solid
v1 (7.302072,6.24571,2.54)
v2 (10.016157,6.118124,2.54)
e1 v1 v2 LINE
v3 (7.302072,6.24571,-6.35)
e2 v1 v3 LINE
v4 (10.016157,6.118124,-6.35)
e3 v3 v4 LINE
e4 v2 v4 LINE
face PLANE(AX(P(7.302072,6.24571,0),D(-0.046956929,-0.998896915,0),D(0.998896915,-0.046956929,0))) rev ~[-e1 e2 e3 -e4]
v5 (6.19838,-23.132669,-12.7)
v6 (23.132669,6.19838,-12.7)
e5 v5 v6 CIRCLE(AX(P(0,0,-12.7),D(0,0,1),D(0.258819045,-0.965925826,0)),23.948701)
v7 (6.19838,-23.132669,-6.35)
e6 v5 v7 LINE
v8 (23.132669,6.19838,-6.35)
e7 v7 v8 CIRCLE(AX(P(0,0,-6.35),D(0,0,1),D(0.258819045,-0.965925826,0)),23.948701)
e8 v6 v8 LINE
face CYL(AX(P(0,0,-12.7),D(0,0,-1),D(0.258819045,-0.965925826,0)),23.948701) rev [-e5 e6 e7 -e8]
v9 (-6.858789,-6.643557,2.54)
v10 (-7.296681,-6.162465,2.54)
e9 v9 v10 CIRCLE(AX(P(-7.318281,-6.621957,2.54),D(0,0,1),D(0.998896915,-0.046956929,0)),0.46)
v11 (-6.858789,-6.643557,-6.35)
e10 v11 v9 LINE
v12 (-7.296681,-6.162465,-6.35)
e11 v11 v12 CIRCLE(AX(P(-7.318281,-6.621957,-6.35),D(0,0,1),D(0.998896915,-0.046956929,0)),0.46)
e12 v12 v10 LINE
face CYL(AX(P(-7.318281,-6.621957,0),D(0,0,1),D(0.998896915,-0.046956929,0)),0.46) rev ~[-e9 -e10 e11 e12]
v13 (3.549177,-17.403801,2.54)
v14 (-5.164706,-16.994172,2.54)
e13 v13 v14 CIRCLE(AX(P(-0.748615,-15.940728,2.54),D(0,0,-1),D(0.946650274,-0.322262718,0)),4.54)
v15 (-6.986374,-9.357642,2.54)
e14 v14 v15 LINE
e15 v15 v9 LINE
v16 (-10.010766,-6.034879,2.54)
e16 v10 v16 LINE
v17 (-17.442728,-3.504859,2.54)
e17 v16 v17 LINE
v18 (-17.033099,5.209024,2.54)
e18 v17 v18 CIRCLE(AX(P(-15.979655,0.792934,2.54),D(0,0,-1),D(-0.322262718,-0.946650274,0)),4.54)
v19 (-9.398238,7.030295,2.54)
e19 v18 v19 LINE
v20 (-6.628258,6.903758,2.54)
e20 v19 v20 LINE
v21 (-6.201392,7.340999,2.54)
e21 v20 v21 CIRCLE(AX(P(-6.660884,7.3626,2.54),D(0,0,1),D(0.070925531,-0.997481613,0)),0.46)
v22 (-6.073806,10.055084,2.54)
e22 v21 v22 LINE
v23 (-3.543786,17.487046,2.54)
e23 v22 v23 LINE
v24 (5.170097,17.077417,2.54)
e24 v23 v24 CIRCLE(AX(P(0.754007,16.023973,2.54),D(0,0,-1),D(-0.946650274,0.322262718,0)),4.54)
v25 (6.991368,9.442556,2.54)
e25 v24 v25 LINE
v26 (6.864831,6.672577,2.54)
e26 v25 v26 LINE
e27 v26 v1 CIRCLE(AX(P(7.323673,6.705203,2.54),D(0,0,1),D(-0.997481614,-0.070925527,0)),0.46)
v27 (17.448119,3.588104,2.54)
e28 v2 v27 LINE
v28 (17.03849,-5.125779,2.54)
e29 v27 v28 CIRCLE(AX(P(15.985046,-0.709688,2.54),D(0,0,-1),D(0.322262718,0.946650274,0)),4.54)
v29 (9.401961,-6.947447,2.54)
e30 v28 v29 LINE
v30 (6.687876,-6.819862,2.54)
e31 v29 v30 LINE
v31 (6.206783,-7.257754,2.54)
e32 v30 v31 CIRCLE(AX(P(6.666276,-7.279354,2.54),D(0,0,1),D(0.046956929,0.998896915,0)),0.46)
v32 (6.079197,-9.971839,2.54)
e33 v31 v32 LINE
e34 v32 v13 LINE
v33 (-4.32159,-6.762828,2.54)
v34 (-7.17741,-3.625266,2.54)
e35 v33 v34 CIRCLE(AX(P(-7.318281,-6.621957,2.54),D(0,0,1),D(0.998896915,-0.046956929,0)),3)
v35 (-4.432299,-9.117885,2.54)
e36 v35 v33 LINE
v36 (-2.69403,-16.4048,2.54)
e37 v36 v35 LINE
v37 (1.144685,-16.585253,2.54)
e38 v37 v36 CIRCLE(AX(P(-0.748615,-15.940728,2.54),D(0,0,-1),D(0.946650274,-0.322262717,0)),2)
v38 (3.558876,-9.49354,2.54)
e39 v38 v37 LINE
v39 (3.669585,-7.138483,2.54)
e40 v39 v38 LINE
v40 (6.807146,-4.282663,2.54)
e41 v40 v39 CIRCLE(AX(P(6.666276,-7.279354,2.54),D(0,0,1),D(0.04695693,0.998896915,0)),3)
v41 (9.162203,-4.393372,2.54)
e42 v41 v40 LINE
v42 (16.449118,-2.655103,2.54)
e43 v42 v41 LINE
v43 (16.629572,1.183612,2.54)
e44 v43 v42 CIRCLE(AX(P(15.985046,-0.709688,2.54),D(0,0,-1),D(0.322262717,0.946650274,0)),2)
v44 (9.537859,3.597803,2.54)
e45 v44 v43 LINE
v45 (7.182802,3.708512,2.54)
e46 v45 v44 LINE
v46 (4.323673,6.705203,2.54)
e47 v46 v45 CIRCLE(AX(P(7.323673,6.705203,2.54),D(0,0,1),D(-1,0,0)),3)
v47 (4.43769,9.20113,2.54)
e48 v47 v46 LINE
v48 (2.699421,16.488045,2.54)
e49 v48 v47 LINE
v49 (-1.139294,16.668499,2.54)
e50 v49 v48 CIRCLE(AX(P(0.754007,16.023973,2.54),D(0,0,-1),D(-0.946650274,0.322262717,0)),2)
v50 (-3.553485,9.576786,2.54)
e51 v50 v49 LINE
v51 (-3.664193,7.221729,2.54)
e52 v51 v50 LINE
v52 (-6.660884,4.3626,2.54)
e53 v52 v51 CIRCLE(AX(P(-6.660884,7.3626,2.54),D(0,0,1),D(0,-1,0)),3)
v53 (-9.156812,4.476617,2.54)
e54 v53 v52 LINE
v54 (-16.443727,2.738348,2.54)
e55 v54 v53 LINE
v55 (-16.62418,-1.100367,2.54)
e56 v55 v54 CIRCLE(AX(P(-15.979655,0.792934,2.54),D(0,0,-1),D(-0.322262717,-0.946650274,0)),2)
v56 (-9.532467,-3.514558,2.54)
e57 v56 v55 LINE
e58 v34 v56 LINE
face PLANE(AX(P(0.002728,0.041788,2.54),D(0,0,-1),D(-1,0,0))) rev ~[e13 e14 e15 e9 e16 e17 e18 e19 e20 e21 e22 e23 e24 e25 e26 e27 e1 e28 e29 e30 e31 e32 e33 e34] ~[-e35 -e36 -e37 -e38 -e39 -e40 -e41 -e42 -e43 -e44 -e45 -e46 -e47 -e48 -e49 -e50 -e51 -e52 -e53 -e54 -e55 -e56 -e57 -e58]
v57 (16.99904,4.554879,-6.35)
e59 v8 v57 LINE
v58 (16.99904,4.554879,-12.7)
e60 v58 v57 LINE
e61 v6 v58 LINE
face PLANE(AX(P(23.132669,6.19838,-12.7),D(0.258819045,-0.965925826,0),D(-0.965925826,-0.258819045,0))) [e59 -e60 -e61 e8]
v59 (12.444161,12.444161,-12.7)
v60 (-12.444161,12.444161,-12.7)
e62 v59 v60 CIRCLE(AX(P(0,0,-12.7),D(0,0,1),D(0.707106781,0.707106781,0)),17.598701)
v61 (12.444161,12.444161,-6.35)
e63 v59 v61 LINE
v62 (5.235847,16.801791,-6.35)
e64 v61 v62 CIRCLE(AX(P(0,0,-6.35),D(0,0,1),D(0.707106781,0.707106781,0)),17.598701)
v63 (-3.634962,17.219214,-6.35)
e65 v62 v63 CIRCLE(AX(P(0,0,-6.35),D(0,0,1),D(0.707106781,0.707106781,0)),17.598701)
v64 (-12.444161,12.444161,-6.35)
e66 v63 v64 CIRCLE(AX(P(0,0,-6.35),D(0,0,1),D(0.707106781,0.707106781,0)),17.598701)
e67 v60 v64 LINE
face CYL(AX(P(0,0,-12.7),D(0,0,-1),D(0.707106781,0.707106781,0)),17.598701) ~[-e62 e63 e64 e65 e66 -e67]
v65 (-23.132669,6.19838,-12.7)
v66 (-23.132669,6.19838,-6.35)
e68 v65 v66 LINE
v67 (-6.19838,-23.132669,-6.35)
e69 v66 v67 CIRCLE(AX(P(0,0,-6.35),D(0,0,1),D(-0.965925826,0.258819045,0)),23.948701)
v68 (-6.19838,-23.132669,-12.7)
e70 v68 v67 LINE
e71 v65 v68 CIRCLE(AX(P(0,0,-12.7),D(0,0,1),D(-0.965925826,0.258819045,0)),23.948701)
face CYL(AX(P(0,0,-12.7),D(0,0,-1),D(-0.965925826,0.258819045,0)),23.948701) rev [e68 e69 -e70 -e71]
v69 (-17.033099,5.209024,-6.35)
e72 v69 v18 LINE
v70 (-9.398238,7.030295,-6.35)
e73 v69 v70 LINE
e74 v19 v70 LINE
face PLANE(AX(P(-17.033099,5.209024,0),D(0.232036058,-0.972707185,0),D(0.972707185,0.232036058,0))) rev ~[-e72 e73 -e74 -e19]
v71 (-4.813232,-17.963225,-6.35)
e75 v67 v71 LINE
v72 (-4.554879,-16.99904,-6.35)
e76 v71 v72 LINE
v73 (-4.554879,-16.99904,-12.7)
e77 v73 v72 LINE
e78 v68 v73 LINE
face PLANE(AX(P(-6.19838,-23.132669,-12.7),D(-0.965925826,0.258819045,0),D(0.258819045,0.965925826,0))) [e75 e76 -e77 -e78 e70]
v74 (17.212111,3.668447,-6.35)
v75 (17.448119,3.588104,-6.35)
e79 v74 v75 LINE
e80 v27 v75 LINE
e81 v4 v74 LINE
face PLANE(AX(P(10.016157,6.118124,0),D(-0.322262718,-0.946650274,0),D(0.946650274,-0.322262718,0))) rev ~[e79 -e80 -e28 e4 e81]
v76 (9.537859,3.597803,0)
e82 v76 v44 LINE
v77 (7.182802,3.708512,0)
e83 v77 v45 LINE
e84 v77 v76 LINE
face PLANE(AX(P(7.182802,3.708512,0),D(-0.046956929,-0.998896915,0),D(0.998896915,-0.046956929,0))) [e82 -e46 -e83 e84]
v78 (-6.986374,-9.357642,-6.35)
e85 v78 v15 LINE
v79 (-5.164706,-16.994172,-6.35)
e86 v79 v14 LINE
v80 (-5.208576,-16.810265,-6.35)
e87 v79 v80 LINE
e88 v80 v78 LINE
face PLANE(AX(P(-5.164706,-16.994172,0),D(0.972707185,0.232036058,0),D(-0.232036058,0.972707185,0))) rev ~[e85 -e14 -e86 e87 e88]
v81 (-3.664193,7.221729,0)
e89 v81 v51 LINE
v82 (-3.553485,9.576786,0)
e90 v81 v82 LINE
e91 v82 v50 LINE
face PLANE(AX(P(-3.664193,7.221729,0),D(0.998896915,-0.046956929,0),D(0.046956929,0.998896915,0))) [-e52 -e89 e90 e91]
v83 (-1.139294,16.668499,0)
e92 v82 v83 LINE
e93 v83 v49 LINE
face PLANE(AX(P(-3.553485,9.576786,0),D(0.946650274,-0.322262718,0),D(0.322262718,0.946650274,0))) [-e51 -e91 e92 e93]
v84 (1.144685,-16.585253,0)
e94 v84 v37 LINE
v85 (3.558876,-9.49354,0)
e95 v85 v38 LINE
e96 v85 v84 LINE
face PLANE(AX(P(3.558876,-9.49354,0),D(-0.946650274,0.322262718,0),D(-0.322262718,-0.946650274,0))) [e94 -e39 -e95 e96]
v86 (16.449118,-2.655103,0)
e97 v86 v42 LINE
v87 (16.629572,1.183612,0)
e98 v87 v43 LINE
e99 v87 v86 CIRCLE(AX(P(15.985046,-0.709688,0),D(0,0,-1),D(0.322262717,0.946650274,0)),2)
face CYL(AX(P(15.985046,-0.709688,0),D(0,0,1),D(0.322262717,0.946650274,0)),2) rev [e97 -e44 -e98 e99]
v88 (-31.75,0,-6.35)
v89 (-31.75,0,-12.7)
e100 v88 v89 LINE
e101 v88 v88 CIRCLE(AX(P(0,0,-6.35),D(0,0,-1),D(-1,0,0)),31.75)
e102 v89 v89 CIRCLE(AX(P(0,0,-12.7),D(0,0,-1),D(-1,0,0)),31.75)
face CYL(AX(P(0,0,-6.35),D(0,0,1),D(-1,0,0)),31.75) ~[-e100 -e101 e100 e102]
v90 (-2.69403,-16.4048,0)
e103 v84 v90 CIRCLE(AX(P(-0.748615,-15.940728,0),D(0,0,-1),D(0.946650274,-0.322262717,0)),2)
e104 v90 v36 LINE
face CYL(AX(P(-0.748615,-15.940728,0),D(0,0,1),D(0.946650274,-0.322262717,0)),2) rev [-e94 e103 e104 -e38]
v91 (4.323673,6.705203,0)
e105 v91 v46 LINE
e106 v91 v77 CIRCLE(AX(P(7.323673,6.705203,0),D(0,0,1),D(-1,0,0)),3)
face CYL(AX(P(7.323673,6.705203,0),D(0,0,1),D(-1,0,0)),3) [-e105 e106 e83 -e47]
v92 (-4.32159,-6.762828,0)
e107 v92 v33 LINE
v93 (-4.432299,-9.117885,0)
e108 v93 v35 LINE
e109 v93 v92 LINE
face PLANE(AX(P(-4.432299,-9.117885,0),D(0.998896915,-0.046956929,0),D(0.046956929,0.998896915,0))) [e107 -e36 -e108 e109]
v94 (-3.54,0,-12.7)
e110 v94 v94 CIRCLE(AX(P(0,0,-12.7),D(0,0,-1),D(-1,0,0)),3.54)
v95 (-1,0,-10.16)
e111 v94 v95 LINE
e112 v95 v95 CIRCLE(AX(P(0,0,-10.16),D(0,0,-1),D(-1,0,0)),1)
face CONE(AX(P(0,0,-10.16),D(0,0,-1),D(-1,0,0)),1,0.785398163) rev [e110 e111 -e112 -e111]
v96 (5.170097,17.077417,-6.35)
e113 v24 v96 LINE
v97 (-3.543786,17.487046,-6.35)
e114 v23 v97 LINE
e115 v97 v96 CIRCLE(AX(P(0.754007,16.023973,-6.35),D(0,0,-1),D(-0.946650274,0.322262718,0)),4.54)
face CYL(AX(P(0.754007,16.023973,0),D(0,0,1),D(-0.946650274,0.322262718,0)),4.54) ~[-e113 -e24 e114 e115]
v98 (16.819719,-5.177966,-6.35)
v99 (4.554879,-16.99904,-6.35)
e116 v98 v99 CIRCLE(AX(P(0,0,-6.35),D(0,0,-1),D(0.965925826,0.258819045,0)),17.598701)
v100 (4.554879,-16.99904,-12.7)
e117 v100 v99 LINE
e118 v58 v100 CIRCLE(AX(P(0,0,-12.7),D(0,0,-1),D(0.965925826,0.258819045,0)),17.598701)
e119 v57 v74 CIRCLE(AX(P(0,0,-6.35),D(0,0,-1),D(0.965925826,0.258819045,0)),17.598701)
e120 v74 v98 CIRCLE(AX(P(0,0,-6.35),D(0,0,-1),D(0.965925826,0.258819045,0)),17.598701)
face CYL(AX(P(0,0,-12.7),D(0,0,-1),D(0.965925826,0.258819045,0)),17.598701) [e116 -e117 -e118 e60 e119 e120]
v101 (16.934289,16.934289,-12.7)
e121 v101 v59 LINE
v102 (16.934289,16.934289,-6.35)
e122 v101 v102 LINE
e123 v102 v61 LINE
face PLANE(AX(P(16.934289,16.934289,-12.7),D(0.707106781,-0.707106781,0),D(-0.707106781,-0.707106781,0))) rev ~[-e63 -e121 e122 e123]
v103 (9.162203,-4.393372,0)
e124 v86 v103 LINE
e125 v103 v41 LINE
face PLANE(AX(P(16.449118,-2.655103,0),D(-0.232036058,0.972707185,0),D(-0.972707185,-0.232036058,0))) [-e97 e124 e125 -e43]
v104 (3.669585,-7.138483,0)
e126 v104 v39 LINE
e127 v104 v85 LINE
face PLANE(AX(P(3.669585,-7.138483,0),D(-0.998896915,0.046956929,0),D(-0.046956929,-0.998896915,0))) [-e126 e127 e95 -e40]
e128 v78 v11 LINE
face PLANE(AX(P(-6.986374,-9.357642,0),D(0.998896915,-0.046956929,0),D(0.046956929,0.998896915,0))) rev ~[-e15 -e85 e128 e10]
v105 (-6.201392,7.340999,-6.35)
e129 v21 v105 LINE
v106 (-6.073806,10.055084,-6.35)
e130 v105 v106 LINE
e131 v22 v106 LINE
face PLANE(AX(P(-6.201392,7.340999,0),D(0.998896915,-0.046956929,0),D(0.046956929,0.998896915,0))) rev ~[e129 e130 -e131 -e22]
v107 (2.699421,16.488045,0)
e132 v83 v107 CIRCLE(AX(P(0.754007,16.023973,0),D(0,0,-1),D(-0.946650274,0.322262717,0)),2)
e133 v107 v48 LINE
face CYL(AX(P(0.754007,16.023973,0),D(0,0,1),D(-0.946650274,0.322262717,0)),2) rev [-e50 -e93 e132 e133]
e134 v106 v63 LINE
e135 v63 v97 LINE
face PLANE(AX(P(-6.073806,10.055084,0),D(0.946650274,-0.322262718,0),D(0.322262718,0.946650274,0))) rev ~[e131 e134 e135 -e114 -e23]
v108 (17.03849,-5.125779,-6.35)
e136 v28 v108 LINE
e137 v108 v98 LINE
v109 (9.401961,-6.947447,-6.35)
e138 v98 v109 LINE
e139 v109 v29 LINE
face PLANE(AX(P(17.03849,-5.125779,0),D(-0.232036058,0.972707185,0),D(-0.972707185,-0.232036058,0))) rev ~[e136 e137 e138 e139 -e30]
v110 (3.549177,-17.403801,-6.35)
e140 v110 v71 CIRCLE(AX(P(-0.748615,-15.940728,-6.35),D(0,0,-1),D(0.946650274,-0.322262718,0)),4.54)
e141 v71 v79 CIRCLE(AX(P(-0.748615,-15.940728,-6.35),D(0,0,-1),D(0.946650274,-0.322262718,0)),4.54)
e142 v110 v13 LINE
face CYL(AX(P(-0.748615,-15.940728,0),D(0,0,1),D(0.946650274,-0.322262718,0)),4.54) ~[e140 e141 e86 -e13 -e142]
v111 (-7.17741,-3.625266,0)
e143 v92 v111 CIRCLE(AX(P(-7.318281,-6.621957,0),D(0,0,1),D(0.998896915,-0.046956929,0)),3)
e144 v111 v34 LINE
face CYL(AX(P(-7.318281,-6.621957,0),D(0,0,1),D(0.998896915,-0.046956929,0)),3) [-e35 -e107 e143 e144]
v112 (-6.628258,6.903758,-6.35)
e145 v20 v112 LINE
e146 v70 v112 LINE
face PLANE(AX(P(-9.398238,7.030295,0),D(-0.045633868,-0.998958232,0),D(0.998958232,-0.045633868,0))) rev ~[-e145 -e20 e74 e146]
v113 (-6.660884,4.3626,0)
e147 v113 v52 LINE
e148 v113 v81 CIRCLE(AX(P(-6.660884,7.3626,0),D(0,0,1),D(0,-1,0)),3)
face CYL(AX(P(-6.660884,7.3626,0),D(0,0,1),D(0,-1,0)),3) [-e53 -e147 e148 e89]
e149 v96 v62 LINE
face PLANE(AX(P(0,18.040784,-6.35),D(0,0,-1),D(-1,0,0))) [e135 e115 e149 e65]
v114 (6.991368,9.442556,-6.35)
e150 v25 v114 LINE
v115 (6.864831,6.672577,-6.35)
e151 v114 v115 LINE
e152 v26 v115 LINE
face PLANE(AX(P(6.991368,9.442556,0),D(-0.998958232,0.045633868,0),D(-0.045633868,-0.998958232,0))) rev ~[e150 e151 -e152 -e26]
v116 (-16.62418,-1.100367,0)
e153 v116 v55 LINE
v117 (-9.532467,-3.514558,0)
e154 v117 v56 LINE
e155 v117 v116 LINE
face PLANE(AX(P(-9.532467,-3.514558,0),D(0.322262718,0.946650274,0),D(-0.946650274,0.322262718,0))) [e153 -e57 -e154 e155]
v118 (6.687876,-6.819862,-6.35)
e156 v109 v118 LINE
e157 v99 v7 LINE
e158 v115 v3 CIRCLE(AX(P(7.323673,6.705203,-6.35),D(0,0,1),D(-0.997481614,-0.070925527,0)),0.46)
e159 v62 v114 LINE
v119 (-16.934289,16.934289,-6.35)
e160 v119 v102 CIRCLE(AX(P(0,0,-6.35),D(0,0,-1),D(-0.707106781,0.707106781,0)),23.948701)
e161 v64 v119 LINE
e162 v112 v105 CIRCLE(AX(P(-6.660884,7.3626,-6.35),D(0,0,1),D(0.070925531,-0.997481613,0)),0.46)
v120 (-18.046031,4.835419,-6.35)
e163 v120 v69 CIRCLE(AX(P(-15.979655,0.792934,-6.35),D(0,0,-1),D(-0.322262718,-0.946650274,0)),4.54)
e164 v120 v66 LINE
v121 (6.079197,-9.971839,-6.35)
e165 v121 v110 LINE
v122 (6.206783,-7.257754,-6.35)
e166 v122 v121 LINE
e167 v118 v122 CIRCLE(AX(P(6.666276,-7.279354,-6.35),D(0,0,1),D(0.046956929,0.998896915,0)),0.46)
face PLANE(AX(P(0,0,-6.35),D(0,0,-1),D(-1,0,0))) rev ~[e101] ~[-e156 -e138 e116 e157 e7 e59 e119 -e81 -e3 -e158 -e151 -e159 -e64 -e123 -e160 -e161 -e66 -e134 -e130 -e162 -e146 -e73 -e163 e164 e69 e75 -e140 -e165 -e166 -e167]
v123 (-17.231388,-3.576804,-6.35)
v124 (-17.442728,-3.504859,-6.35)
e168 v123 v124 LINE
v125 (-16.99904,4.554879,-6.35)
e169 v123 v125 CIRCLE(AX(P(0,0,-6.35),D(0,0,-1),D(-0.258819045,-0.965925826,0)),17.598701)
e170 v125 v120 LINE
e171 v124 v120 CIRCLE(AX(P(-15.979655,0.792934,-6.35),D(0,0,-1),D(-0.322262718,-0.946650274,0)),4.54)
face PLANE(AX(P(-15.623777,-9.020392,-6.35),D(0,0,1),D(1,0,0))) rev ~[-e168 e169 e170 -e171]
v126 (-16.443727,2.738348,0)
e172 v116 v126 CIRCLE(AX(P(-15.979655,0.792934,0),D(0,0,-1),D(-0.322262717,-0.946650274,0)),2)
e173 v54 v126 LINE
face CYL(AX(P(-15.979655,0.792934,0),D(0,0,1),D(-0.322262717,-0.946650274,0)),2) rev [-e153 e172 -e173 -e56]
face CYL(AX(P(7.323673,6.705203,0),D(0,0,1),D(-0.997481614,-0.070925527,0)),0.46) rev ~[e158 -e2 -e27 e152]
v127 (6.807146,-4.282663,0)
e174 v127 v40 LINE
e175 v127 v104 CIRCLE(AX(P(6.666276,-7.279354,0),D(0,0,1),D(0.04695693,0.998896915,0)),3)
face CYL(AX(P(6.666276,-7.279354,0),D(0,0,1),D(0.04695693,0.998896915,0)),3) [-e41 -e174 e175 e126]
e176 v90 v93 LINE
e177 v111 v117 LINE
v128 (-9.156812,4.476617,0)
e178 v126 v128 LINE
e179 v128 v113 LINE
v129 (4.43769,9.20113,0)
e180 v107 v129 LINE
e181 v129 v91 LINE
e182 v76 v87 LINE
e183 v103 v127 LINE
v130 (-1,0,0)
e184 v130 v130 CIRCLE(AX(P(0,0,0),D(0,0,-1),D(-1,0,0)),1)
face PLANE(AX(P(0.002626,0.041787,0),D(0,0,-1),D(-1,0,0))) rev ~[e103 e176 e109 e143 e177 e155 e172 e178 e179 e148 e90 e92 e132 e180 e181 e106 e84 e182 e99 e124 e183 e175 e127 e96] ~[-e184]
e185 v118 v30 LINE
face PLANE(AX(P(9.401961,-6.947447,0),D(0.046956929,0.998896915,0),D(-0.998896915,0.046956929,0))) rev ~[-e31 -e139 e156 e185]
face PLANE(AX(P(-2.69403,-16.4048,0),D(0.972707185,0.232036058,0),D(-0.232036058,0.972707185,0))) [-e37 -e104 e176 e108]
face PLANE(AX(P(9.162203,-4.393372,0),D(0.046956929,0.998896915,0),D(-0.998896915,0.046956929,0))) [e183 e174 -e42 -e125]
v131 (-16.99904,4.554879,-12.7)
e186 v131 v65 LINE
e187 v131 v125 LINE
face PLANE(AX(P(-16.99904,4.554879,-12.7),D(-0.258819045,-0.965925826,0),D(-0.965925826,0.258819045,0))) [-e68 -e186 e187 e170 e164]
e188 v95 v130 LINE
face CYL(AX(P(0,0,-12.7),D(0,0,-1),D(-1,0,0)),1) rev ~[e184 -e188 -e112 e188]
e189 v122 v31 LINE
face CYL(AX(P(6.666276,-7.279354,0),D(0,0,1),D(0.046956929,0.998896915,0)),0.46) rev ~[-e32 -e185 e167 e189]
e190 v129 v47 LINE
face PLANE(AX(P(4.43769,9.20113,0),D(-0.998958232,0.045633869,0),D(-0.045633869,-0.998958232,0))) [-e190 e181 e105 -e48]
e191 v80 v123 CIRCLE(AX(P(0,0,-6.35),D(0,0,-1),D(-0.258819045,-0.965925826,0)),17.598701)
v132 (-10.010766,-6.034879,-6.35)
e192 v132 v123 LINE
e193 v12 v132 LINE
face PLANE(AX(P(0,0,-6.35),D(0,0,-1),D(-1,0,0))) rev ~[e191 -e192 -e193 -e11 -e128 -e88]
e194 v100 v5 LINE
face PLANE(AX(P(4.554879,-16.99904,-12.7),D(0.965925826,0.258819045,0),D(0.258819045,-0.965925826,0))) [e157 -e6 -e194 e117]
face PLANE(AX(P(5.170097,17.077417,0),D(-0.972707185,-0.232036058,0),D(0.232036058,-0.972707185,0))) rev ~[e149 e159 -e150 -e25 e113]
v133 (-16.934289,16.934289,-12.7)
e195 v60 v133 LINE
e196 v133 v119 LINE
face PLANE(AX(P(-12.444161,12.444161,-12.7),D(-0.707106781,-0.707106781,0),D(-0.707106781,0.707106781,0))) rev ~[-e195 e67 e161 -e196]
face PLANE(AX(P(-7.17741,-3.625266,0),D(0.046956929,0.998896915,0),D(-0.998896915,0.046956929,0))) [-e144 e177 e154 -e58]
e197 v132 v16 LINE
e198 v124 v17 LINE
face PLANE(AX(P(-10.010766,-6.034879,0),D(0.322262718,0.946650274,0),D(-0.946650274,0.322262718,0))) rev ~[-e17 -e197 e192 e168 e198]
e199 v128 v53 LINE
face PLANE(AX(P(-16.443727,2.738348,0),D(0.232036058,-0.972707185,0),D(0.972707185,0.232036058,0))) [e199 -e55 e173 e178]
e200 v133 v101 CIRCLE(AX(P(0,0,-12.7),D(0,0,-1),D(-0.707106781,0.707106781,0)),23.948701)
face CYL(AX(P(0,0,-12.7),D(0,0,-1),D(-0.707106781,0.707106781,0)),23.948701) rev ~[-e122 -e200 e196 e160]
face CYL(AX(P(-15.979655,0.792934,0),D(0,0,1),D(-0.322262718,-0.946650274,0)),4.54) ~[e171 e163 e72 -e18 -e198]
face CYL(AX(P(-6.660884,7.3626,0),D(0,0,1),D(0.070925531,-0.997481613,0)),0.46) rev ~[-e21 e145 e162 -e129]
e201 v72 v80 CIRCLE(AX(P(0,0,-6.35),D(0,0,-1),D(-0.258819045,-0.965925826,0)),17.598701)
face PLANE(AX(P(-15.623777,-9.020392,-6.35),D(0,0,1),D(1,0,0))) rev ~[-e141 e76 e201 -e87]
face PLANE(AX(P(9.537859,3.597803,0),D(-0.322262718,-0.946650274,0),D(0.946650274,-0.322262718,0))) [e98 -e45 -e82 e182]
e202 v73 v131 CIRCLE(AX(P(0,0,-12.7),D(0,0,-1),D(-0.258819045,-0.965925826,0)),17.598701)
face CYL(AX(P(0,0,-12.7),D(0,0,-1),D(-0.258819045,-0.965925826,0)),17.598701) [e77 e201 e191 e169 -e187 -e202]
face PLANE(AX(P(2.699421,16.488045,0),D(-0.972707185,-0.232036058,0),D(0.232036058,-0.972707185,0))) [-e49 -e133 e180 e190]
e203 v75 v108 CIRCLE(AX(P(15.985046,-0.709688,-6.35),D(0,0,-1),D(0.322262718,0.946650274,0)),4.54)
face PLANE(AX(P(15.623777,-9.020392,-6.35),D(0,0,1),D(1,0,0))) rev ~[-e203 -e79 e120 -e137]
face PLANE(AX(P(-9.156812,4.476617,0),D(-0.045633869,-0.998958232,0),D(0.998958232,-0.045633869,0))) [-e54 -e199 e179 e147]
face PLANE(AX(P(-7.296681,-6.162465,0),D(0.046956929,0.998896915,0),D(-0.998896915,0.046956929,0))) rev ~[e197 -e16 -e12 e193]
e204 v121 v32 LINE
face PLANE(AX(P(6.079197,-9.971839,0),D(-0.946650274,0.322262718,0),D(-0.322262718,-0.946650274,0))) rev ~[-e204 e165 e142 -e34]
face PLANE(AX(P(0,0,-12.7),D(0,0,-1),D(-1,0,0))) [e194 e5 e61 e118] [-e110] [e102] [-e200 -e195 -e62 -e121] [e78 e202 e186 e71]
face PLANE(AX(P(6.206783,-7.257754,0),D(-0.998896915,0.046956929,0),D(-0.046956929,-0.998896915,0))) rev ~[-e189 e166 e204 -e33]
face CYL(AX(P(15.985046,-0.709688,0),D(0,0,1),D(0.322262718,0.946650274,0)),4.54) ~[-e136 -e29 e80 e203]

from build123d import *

# Parameters (mm, degrees)
EXTRUDE_THIN1_DEPTH = 2.54
EXTRUDE_THIN2_DEPTH = 6.35
BOSS_EXTRUDE1_DEPTH = 6.35
SKETCH2_R           = 31.75
BOSS_EXTRUDE2_DEPTH = 6.35
CUT_EXTRUDE1_DEPTH  = 6.35
SKETCH4_R           = 1
CUT_EXTRUDE2_DEPTH  = 16.24
CHAMFER2_SIZE       = 2.54


with BuildPart() as part:
    # Sketch1 → Extrude-Thin1 (new body)
    with BuildSketch(Plane.XY):
        with BuildLine():
            Line((-17.033098657, 5.209024178), (-9.398237952, 7.030294761))
            Line((-9.398237952, 7.030294761), (-6.628258472, 6.90375806))
            ThreePointArc((-6.628258472, 6.90375806), (-6.331733624, 7.041258836), (-6.201391634, 7.340999415))
            Line((-6.201391634, 7.340999415), (-6.07380581, 10.055084177))
            Line((-6.07380581, 10.055084177), (-3.543785692, 17.487046073))
            ThreePointArc((-3.543785692, 17.487046073), (0.967191009, 20.558965329), (5.170097171, 17.077417038))
            Line((5.170097171, 17.077417038), (6.991367754, 9.442556334))
            Line((6.991367754, 9.442556334), (6.864831053, 6.672576854))
            ThreePointArc((6.864831053, 6.672576854), (7.002331829, 6.376052005), (7.302072408, 6.245710016))
            Line((7.302072408, 6.245710016), (10.01615717, 6.118124192))
            Line((10.01615717, 6.118124192), (17.448119066, 3.588104073))
            ThreePointArc((17.448119066, 3.588104073), (20.520038322, -0.922872627), (17.038490031, -5.125778789))
            Line((17.038490031, -5.125778789), (9.401960539, -6.947447456))
            Line((9.401960539, -6.947447456), (6.687875777, -6.819861633))
            ThreePointArc((6.687875777, -6.819861633), (6.356638909, -6.939170255), (6.206783009, -7.257754026))
            Line((6.206783009, -7.257754026), (6.079197185, -9.971838788))
            Line((6.079197185, -9.971838788), (3.549177067, -17.403800684))
            ThreePointArc((3.549177067, -17.403800684), (-0.961799634, -20.47571994), (-5.164705796, -16.99417165))
            Line((-5.164705796, -16.99417165), (-6.986374463, -9.357642157))
            Line((-6.986374463, -9.357642157), (-6.85878864, -6.643557395))
            ThreePointArc((-6.85878864, -6.643557395), (-6.978097262, -6.312320527), (-7.296681033, -6.162464627))
            Line((-7.296681033, -6.162464627), (-10.010765795, -6.034878804))
            Line((-10.010765795, -6.034878804), (-17.442727691, -3.504858685))
            ThreePointArc((-17.442727691, -3.504858685), (-20.514646947, 1.006118016), (-17.033098657, 5.209024178))
        make_face()
        with BuildLine():
            Line((-16.443727069, 2.738347928), (-9.156812059, 4.476617225))
            Line((-9.156812059, 4.476617225), (-6.660884215, 4.362599602))
            ThreePointArc((-6.660884215, 4.362599602), (-4.589968036, 5.192045254), (-3.66419347, 7.221728815))
            Line((-3.66419347, 7.221728815), (-3.553485102, 9.576785873))
            Line((-3.553485102, 9.576785873), (-1.139293996, 16.66849877))
            ThreePointArc((-1.139293996, 16.66849877), (0.847920409, 18.021767165), (2.699420921, 16.488045451))
            Line((2.699420921, 16.488045451), (4.437690218, 9.201130441))
            Line((4.437690218, 9.201130441), (4.323672595, 6.705202597))
            ThreePointArc((4.323672595, 6.705202597), (5.153118247, 4.634286418), (7.182801808, 3.708511852))
            Line((7.182801808, 3.708511852), (9.537858866, 3.597803484))
            Line((9.537858866, 3.597803484), (16.629571763, 1.183612378))
            ThreePointArc((16.629571763, 1.183612378), (17.982840158, -0.803602027), (16.449118444, -2.655102539))
            Line((16.449118444, -2.655102539), (9.162203434, -4.393371836))
            Line((9.162203434, -4.393371836), (6.807146377, -4.282663469))
            ThreePointArc((6.807146377, -4.282663469), (4.646905931, -5.060763178), (3.669584845, -7.138483427))
            Line((3.669584845, -7.138483427), (3.558876477, -9.493540484))
            Line((3.558876477, -9.493540484), (1.144685371, -16.585253381))
            ThreePointArc((1.144685371, -16.585253381), (-0.842529034, -17.938521776), (-2.694029546, -16.404800062))
            Line((-2.694029546, -16.404800062), (-4.432298843, -9.117885052))
            Line((-4.432298843, -9.117885052), (-4.321590476, -6.762827995))
            ThreePointArc((-4.321590476, -6.762827995), (-5.099690185, -4.60258755), (-7.177410434, -3.625266463))
            Line((-7.177410434, -3.625266463), (-9.532467491, -3.514558095))
            Line((-9.532467491, -3.514558095), (-16.624180388, -1.100366989))
            ThreePointArc((-16.624180388, -1.100366989), (-17.977448783, 0.886847416), (-16.443727069, 2.738347928))
        make_face(mode=Mode.SUBTRACT)
    extrude(amount=EXTRUDE_THIN1_DEPTH)

    # Sketch1<5> → Extrude-Thin2 (add)
    with BuildSketch(Plane.XY):
        with BuildLine():
            Line((-17.033098657, 5.209024178), (-9.398237952, 7.030294761))
            Line((-9.398237952, 7.030294761), (-6.628258472, 6.90375806))
            ThreePointArc((-6.628258472, 6.90375806), (-6.331733624, 7.041258836), (-6.201391634, 7.340999415))
            Line((-6.201391634, 7.340999415), (-6.07380581, 10.055084177))
            Line((-6.07380581, 10.055084177), (-3.543785692, 17.487046073))
            ThreePointArc((-3.543785692, 17.487046073), (0.967191009, 20.558965329), (5.170097171, 17.077417038))
            Line((5.170097171, 17.077417038), (6.991367754, 9.442556334))
            Line((6.991367754, 9.442556334), (6.864831053, 6.672576854))
            ThreePointArc((6.864831053, 6.672576854), (7.002331829, 6.376052005), (7.302072408, 6.245710016))
            Line((7.302072408, 6.245710016), (10.01615717, 6.118124192))
            Line((10.01615717, 6.118124192), (17.448119066, 3.588104073))
            ThreePointArc((17.448119066, 3.588104073), (20.520038322, -0.922872627), (17.038490031, -5.125778789))
            Line((17.038490031, -5.125778789), (9.401960539, -6.947447456))
            Line((9.401960539, -6.947447456), (6.687875777, -6.819861633))
            ThreePointArc((6.687875777, -6.819861633), (6.356638909, -6.939170255), (6.206783009, -7.257754026))
            Line((6.206783009, -7.257754026), (6.079197185, -9.971838788))
            Line((6.079197185, -9.971838788), (3.549177067, -17.403800684))
            ThreePointArc((3.549177067, -17.403800684), (-0.961799634, -20.47571994), (-5.164705796, -16.99417165))
            Line((-5.164705796, -16.99417165), (-6.986374463, -9.357642157))
            Line((-6.986374463, -9.357642157), (-6.85878864, -6.643557395))
            ThreePointArc((-6.85878864, -6.643557395), (-6.978097262, -6.312320527), (-7.296681033, -6.162464627))
            Line((-7.296681033, -6.162464627), (-10.010765795, -6.034878804))
            Line((-10.010765795, -6.034878804), (-17.442727691, -3.504858685))
            ThreePointArc((-17.442727691, -3.504858685), (-20.514646947, 1.006118016), (-17.033098657, 5.209024178))
        make_face()
        with BuildLine():
            Line((-16.443727069, 2.738347928), (-9.156812059, 4.476617225))
            Line((-9.156812059, 4.476617225), (-6.660884215, 4.362599602))
            ThreePointArc((-6.660884215, 4.362599602), (-4.589968036, 5.192045254), (-3.66419347, 7.221728815))
            Line((-3.66419347, 7.221728815), (-3.553485102, 9.576785873))
            Line((-3.553485102, 9.576785873), (-1.139293996, 16.66849877))
            ThreePointArc((-1.139293996, 16.66849877), (0.847920409, 18.021767165), (2.699420921, 16.488045451))
            Line((2.699420921, 16.488045451), (4.437690218, 9.201130441))
            Line((4.437690218, 9.201130441), (4.323672595, 6.705202597))
            ThreePointArc((4.323672595, 6.705202597), (5.153118247, 4.634286418), (7.182801808, 3.708511852))
            Line((7.182801808, 3.708511852), (9.537858866, 3.597803484))
            Line((9.537858866, 3.597803484), (16.629571763, 1.183612378))
            ThreePointArc((16.629571763, 1.183612378), (17.982840158, -0.803602027), (16.449118444, -2.655102539))
            Line((16.449118444, -2.655102539), (9.162203434, -4.393371836))
            Line((9.162203434, -4.393371836), (6.807146377, -4.282663469))
            ThreePointArc((6.807146377, -4.282663469), (4.646905931, -5.060763178), (3.669584845, -7.138483427))
            Line((3.669584845, -7.138483427), (3.558876477, -9.493540484))
            Line((3.558876477, -9.493540484), (1.144685371, -16.585253381))
            ThreePointArc((1.144685371, -16.585253381), (-0.842529034, -17.938521776), (-2.694029546, -16.404800062))
            Line((-2.694029546, -16.404800062), (-4.432298843, -9.117885052))
            Line((-4.432298843, -9.117885052), (-4.321590476, -6.762827995))
            ThreePointArc((-4.321590476, -6.762827995), (-5.099690185, -4.60258755), (-7.177410434, -3.625266463))
            Line((-7.177410434, -3.625266463), (-9.532467491, -3.514558095))
            Line((-9.532467491, -3.514558095), (-16.624180388, -1.100366989))
            ThreePointArc((-16.624180388, -1.100366989), (-17.977448783, 0.886847416), (-16.443727069, 2.738347928))
        make_face(mode=Mode.SUBTRACT)
    extrude(amount=-EXTRUDE_THIN2_DEPTH)

    # Sketch1<6> → Boss-Extrude1 (add)
    with BuildSketch(Plane.XY):
        with BuildLine():
            ThreePointArc((-16.624180388, -1.100366989), (-17.977448783, 0.886847416), (-16.443727069, 2.738347928))
            Line((-16.443727069, 2.738347928), (-9.156812059, 4.476617225))
            Line((-9.156812059, 4.476617225), (-6.660884215, 4.362599602))
            ThreePointArc((-6.660884215, 4.362599602), (-4.589968036, 5.192045254), (-3.66419347, 7.221728815))
            Line((-3.66419347, 7.221728815), (-3.553485102, 9.576785873))
            Line((-3.553485102, 9.576785873), (-1.139293996, 16.66849877))
            ThreePointArc((-1.139293996, 16.66849877), (0.847920409, 18.021767165), (2.699420921, 16.488045451))
            Line((2.699420921, 16.488045451), (4.437690218, 9.201130441))
            Line((4.437690218, 9.201130441), (4.323672595, 6.705202597))
            ThreePointArc((4.323672595, 6.705202597), (5.153118247, 4.634286418), (7.182801808, 3.708511852))
            Line((7.182801808, 3.708511852), (9.537858866, 3.597803484))
            Line((9.537858866, 3.597803484), (16.629571763, 1.183612378))
            ThreePointArc((16.629571763, 1.183612378), (17.982840158, -0.803602027), (16.449118444, -2.655102539))
            Line((16.449118444, -2.655102539), (9.162203434, -4.393371836))
            Line((9.162203434, -4.393371836), (6.807146377, -4.282663469))
            ThreePointArc((6.807146377, -4.282663469), (4.646905931, -5.060763178), (3.669584845, -7.138483427))
            Line((3.669584845, -7.138483427), (3.558876477, -9.493540484))
            Line((3.558876477, -9.493540484), (1.144685371, -16.585253381))
            ThreePointArc((1.144685371, -16.585253381), (-0.842529034, -17.938521776), (-2.694029546, -16.404800062))
            Line((-2.694029546, -16.404800062), (-4.432298843, -9.117885052))
            Line((-4.432298843, -9.117885052), (-4.321590476, -6.762827995))
            ThreePointArc((-4.321590476, -6.762827995), (-5.099690185, -4.60258755), (-7.177410434, -3.625266463))
            Line((-7.177410434, -3.625266463), (-9.532467491, -3.514558095))
            Line((-9.532467491, -3.514558095), (-16.624180388, -1.100366989))
        make_face()
    extrude(amount=-BOSS_EXTRUDE1_DEPTH)

    # Sketch2 → Boss-Extrude2 (add)
    with BuildSketch(Plane(origin=(0, 0, -6.35), x_dir=(-1, 0, 0), z_dir=(0, 0, -1))):
        Circle(SKETCH2_R)
    extrude(amount=BOSS_EXTRUDE2_DEPTH)

    # Sketch3 → Cut-Extrude1 (cut)
    with BuildSketch(Plane(origin=(0, 0, -12.7), x_dir=(-1, 0, 0), z_dir=(0, 0, -1))):
        with BuildLine():
            Line((-16.934288716, 16.934288716), (-12.444160656, 12.444160656))
            ThreePointArc((-12.444160656, 12.444160656), (0, 17.598700771), (12.444160656, 12.444160656))
            Line((12.444160656, 12.444160656), (16.934288716, 16.934288716))
            ThreePointArc((16.934288716, 16.934288716), (0, 23.948700771), (-16.934288716, 16.934288716))
        make_face()
        with BuildLine():
            Line((6.198379865, -23.132668581), (4.554878929, -16.999039584))
            ThreePointArc((4.554878929, -16.999039584), (15.240921942, -8.799350386), (16.999039584, 4.554878929))
            Line((16.999039584, 4.554878929), (23.132668581, 6.198379865))
            ThreePointArc((23.132668581, 6.198379865), (20.740183256, -11.974350386), (6.198379865, -23.132668581))
        make_face()
        with BuildLine():
            Line((-23.132668581, 6.198379865), (-16.999039584, 4.554878929))
            ThreePointArc((-16.999039584, 4.554878929), (-15.240921942, -8.799350386), (-4.554878929, -16.999039584))
            Line((-4.554878929, -16.999039584), (-6.198379865, -23.132668581))
            ThreePointArc((-6.198379865, -23.132668581), (-20.740183256, -11.974350386), (-23.132668581, 6.198379865))
        make_face()
    extrude(amount=-CUT_EXTRUDE1_DEPTH, mode=Mode.SUBTRACT)

    # Sketch4 → Cut-Extrude2 (cut, through all)
    with BuildSketch(Plane(origin=(0, 0, -12.7), x_dir=(-1, 0, 0), z_dir=(0, 0, -1))):
        Circle(SKETCH4_R)
    extrude(amount=-CUT_EXTRUDE2_DEPTH, mode=Mode.SUBTRACT)

    # Chamfer2
    chamfer2_edges = [part.edges().sort_by_distance(p)[0] for p in [
        (1, 0, -12.7),
    ]]
    chamfer(chamfer2_edges, length=CHAMFER2_SIZE)


solid = part.part
